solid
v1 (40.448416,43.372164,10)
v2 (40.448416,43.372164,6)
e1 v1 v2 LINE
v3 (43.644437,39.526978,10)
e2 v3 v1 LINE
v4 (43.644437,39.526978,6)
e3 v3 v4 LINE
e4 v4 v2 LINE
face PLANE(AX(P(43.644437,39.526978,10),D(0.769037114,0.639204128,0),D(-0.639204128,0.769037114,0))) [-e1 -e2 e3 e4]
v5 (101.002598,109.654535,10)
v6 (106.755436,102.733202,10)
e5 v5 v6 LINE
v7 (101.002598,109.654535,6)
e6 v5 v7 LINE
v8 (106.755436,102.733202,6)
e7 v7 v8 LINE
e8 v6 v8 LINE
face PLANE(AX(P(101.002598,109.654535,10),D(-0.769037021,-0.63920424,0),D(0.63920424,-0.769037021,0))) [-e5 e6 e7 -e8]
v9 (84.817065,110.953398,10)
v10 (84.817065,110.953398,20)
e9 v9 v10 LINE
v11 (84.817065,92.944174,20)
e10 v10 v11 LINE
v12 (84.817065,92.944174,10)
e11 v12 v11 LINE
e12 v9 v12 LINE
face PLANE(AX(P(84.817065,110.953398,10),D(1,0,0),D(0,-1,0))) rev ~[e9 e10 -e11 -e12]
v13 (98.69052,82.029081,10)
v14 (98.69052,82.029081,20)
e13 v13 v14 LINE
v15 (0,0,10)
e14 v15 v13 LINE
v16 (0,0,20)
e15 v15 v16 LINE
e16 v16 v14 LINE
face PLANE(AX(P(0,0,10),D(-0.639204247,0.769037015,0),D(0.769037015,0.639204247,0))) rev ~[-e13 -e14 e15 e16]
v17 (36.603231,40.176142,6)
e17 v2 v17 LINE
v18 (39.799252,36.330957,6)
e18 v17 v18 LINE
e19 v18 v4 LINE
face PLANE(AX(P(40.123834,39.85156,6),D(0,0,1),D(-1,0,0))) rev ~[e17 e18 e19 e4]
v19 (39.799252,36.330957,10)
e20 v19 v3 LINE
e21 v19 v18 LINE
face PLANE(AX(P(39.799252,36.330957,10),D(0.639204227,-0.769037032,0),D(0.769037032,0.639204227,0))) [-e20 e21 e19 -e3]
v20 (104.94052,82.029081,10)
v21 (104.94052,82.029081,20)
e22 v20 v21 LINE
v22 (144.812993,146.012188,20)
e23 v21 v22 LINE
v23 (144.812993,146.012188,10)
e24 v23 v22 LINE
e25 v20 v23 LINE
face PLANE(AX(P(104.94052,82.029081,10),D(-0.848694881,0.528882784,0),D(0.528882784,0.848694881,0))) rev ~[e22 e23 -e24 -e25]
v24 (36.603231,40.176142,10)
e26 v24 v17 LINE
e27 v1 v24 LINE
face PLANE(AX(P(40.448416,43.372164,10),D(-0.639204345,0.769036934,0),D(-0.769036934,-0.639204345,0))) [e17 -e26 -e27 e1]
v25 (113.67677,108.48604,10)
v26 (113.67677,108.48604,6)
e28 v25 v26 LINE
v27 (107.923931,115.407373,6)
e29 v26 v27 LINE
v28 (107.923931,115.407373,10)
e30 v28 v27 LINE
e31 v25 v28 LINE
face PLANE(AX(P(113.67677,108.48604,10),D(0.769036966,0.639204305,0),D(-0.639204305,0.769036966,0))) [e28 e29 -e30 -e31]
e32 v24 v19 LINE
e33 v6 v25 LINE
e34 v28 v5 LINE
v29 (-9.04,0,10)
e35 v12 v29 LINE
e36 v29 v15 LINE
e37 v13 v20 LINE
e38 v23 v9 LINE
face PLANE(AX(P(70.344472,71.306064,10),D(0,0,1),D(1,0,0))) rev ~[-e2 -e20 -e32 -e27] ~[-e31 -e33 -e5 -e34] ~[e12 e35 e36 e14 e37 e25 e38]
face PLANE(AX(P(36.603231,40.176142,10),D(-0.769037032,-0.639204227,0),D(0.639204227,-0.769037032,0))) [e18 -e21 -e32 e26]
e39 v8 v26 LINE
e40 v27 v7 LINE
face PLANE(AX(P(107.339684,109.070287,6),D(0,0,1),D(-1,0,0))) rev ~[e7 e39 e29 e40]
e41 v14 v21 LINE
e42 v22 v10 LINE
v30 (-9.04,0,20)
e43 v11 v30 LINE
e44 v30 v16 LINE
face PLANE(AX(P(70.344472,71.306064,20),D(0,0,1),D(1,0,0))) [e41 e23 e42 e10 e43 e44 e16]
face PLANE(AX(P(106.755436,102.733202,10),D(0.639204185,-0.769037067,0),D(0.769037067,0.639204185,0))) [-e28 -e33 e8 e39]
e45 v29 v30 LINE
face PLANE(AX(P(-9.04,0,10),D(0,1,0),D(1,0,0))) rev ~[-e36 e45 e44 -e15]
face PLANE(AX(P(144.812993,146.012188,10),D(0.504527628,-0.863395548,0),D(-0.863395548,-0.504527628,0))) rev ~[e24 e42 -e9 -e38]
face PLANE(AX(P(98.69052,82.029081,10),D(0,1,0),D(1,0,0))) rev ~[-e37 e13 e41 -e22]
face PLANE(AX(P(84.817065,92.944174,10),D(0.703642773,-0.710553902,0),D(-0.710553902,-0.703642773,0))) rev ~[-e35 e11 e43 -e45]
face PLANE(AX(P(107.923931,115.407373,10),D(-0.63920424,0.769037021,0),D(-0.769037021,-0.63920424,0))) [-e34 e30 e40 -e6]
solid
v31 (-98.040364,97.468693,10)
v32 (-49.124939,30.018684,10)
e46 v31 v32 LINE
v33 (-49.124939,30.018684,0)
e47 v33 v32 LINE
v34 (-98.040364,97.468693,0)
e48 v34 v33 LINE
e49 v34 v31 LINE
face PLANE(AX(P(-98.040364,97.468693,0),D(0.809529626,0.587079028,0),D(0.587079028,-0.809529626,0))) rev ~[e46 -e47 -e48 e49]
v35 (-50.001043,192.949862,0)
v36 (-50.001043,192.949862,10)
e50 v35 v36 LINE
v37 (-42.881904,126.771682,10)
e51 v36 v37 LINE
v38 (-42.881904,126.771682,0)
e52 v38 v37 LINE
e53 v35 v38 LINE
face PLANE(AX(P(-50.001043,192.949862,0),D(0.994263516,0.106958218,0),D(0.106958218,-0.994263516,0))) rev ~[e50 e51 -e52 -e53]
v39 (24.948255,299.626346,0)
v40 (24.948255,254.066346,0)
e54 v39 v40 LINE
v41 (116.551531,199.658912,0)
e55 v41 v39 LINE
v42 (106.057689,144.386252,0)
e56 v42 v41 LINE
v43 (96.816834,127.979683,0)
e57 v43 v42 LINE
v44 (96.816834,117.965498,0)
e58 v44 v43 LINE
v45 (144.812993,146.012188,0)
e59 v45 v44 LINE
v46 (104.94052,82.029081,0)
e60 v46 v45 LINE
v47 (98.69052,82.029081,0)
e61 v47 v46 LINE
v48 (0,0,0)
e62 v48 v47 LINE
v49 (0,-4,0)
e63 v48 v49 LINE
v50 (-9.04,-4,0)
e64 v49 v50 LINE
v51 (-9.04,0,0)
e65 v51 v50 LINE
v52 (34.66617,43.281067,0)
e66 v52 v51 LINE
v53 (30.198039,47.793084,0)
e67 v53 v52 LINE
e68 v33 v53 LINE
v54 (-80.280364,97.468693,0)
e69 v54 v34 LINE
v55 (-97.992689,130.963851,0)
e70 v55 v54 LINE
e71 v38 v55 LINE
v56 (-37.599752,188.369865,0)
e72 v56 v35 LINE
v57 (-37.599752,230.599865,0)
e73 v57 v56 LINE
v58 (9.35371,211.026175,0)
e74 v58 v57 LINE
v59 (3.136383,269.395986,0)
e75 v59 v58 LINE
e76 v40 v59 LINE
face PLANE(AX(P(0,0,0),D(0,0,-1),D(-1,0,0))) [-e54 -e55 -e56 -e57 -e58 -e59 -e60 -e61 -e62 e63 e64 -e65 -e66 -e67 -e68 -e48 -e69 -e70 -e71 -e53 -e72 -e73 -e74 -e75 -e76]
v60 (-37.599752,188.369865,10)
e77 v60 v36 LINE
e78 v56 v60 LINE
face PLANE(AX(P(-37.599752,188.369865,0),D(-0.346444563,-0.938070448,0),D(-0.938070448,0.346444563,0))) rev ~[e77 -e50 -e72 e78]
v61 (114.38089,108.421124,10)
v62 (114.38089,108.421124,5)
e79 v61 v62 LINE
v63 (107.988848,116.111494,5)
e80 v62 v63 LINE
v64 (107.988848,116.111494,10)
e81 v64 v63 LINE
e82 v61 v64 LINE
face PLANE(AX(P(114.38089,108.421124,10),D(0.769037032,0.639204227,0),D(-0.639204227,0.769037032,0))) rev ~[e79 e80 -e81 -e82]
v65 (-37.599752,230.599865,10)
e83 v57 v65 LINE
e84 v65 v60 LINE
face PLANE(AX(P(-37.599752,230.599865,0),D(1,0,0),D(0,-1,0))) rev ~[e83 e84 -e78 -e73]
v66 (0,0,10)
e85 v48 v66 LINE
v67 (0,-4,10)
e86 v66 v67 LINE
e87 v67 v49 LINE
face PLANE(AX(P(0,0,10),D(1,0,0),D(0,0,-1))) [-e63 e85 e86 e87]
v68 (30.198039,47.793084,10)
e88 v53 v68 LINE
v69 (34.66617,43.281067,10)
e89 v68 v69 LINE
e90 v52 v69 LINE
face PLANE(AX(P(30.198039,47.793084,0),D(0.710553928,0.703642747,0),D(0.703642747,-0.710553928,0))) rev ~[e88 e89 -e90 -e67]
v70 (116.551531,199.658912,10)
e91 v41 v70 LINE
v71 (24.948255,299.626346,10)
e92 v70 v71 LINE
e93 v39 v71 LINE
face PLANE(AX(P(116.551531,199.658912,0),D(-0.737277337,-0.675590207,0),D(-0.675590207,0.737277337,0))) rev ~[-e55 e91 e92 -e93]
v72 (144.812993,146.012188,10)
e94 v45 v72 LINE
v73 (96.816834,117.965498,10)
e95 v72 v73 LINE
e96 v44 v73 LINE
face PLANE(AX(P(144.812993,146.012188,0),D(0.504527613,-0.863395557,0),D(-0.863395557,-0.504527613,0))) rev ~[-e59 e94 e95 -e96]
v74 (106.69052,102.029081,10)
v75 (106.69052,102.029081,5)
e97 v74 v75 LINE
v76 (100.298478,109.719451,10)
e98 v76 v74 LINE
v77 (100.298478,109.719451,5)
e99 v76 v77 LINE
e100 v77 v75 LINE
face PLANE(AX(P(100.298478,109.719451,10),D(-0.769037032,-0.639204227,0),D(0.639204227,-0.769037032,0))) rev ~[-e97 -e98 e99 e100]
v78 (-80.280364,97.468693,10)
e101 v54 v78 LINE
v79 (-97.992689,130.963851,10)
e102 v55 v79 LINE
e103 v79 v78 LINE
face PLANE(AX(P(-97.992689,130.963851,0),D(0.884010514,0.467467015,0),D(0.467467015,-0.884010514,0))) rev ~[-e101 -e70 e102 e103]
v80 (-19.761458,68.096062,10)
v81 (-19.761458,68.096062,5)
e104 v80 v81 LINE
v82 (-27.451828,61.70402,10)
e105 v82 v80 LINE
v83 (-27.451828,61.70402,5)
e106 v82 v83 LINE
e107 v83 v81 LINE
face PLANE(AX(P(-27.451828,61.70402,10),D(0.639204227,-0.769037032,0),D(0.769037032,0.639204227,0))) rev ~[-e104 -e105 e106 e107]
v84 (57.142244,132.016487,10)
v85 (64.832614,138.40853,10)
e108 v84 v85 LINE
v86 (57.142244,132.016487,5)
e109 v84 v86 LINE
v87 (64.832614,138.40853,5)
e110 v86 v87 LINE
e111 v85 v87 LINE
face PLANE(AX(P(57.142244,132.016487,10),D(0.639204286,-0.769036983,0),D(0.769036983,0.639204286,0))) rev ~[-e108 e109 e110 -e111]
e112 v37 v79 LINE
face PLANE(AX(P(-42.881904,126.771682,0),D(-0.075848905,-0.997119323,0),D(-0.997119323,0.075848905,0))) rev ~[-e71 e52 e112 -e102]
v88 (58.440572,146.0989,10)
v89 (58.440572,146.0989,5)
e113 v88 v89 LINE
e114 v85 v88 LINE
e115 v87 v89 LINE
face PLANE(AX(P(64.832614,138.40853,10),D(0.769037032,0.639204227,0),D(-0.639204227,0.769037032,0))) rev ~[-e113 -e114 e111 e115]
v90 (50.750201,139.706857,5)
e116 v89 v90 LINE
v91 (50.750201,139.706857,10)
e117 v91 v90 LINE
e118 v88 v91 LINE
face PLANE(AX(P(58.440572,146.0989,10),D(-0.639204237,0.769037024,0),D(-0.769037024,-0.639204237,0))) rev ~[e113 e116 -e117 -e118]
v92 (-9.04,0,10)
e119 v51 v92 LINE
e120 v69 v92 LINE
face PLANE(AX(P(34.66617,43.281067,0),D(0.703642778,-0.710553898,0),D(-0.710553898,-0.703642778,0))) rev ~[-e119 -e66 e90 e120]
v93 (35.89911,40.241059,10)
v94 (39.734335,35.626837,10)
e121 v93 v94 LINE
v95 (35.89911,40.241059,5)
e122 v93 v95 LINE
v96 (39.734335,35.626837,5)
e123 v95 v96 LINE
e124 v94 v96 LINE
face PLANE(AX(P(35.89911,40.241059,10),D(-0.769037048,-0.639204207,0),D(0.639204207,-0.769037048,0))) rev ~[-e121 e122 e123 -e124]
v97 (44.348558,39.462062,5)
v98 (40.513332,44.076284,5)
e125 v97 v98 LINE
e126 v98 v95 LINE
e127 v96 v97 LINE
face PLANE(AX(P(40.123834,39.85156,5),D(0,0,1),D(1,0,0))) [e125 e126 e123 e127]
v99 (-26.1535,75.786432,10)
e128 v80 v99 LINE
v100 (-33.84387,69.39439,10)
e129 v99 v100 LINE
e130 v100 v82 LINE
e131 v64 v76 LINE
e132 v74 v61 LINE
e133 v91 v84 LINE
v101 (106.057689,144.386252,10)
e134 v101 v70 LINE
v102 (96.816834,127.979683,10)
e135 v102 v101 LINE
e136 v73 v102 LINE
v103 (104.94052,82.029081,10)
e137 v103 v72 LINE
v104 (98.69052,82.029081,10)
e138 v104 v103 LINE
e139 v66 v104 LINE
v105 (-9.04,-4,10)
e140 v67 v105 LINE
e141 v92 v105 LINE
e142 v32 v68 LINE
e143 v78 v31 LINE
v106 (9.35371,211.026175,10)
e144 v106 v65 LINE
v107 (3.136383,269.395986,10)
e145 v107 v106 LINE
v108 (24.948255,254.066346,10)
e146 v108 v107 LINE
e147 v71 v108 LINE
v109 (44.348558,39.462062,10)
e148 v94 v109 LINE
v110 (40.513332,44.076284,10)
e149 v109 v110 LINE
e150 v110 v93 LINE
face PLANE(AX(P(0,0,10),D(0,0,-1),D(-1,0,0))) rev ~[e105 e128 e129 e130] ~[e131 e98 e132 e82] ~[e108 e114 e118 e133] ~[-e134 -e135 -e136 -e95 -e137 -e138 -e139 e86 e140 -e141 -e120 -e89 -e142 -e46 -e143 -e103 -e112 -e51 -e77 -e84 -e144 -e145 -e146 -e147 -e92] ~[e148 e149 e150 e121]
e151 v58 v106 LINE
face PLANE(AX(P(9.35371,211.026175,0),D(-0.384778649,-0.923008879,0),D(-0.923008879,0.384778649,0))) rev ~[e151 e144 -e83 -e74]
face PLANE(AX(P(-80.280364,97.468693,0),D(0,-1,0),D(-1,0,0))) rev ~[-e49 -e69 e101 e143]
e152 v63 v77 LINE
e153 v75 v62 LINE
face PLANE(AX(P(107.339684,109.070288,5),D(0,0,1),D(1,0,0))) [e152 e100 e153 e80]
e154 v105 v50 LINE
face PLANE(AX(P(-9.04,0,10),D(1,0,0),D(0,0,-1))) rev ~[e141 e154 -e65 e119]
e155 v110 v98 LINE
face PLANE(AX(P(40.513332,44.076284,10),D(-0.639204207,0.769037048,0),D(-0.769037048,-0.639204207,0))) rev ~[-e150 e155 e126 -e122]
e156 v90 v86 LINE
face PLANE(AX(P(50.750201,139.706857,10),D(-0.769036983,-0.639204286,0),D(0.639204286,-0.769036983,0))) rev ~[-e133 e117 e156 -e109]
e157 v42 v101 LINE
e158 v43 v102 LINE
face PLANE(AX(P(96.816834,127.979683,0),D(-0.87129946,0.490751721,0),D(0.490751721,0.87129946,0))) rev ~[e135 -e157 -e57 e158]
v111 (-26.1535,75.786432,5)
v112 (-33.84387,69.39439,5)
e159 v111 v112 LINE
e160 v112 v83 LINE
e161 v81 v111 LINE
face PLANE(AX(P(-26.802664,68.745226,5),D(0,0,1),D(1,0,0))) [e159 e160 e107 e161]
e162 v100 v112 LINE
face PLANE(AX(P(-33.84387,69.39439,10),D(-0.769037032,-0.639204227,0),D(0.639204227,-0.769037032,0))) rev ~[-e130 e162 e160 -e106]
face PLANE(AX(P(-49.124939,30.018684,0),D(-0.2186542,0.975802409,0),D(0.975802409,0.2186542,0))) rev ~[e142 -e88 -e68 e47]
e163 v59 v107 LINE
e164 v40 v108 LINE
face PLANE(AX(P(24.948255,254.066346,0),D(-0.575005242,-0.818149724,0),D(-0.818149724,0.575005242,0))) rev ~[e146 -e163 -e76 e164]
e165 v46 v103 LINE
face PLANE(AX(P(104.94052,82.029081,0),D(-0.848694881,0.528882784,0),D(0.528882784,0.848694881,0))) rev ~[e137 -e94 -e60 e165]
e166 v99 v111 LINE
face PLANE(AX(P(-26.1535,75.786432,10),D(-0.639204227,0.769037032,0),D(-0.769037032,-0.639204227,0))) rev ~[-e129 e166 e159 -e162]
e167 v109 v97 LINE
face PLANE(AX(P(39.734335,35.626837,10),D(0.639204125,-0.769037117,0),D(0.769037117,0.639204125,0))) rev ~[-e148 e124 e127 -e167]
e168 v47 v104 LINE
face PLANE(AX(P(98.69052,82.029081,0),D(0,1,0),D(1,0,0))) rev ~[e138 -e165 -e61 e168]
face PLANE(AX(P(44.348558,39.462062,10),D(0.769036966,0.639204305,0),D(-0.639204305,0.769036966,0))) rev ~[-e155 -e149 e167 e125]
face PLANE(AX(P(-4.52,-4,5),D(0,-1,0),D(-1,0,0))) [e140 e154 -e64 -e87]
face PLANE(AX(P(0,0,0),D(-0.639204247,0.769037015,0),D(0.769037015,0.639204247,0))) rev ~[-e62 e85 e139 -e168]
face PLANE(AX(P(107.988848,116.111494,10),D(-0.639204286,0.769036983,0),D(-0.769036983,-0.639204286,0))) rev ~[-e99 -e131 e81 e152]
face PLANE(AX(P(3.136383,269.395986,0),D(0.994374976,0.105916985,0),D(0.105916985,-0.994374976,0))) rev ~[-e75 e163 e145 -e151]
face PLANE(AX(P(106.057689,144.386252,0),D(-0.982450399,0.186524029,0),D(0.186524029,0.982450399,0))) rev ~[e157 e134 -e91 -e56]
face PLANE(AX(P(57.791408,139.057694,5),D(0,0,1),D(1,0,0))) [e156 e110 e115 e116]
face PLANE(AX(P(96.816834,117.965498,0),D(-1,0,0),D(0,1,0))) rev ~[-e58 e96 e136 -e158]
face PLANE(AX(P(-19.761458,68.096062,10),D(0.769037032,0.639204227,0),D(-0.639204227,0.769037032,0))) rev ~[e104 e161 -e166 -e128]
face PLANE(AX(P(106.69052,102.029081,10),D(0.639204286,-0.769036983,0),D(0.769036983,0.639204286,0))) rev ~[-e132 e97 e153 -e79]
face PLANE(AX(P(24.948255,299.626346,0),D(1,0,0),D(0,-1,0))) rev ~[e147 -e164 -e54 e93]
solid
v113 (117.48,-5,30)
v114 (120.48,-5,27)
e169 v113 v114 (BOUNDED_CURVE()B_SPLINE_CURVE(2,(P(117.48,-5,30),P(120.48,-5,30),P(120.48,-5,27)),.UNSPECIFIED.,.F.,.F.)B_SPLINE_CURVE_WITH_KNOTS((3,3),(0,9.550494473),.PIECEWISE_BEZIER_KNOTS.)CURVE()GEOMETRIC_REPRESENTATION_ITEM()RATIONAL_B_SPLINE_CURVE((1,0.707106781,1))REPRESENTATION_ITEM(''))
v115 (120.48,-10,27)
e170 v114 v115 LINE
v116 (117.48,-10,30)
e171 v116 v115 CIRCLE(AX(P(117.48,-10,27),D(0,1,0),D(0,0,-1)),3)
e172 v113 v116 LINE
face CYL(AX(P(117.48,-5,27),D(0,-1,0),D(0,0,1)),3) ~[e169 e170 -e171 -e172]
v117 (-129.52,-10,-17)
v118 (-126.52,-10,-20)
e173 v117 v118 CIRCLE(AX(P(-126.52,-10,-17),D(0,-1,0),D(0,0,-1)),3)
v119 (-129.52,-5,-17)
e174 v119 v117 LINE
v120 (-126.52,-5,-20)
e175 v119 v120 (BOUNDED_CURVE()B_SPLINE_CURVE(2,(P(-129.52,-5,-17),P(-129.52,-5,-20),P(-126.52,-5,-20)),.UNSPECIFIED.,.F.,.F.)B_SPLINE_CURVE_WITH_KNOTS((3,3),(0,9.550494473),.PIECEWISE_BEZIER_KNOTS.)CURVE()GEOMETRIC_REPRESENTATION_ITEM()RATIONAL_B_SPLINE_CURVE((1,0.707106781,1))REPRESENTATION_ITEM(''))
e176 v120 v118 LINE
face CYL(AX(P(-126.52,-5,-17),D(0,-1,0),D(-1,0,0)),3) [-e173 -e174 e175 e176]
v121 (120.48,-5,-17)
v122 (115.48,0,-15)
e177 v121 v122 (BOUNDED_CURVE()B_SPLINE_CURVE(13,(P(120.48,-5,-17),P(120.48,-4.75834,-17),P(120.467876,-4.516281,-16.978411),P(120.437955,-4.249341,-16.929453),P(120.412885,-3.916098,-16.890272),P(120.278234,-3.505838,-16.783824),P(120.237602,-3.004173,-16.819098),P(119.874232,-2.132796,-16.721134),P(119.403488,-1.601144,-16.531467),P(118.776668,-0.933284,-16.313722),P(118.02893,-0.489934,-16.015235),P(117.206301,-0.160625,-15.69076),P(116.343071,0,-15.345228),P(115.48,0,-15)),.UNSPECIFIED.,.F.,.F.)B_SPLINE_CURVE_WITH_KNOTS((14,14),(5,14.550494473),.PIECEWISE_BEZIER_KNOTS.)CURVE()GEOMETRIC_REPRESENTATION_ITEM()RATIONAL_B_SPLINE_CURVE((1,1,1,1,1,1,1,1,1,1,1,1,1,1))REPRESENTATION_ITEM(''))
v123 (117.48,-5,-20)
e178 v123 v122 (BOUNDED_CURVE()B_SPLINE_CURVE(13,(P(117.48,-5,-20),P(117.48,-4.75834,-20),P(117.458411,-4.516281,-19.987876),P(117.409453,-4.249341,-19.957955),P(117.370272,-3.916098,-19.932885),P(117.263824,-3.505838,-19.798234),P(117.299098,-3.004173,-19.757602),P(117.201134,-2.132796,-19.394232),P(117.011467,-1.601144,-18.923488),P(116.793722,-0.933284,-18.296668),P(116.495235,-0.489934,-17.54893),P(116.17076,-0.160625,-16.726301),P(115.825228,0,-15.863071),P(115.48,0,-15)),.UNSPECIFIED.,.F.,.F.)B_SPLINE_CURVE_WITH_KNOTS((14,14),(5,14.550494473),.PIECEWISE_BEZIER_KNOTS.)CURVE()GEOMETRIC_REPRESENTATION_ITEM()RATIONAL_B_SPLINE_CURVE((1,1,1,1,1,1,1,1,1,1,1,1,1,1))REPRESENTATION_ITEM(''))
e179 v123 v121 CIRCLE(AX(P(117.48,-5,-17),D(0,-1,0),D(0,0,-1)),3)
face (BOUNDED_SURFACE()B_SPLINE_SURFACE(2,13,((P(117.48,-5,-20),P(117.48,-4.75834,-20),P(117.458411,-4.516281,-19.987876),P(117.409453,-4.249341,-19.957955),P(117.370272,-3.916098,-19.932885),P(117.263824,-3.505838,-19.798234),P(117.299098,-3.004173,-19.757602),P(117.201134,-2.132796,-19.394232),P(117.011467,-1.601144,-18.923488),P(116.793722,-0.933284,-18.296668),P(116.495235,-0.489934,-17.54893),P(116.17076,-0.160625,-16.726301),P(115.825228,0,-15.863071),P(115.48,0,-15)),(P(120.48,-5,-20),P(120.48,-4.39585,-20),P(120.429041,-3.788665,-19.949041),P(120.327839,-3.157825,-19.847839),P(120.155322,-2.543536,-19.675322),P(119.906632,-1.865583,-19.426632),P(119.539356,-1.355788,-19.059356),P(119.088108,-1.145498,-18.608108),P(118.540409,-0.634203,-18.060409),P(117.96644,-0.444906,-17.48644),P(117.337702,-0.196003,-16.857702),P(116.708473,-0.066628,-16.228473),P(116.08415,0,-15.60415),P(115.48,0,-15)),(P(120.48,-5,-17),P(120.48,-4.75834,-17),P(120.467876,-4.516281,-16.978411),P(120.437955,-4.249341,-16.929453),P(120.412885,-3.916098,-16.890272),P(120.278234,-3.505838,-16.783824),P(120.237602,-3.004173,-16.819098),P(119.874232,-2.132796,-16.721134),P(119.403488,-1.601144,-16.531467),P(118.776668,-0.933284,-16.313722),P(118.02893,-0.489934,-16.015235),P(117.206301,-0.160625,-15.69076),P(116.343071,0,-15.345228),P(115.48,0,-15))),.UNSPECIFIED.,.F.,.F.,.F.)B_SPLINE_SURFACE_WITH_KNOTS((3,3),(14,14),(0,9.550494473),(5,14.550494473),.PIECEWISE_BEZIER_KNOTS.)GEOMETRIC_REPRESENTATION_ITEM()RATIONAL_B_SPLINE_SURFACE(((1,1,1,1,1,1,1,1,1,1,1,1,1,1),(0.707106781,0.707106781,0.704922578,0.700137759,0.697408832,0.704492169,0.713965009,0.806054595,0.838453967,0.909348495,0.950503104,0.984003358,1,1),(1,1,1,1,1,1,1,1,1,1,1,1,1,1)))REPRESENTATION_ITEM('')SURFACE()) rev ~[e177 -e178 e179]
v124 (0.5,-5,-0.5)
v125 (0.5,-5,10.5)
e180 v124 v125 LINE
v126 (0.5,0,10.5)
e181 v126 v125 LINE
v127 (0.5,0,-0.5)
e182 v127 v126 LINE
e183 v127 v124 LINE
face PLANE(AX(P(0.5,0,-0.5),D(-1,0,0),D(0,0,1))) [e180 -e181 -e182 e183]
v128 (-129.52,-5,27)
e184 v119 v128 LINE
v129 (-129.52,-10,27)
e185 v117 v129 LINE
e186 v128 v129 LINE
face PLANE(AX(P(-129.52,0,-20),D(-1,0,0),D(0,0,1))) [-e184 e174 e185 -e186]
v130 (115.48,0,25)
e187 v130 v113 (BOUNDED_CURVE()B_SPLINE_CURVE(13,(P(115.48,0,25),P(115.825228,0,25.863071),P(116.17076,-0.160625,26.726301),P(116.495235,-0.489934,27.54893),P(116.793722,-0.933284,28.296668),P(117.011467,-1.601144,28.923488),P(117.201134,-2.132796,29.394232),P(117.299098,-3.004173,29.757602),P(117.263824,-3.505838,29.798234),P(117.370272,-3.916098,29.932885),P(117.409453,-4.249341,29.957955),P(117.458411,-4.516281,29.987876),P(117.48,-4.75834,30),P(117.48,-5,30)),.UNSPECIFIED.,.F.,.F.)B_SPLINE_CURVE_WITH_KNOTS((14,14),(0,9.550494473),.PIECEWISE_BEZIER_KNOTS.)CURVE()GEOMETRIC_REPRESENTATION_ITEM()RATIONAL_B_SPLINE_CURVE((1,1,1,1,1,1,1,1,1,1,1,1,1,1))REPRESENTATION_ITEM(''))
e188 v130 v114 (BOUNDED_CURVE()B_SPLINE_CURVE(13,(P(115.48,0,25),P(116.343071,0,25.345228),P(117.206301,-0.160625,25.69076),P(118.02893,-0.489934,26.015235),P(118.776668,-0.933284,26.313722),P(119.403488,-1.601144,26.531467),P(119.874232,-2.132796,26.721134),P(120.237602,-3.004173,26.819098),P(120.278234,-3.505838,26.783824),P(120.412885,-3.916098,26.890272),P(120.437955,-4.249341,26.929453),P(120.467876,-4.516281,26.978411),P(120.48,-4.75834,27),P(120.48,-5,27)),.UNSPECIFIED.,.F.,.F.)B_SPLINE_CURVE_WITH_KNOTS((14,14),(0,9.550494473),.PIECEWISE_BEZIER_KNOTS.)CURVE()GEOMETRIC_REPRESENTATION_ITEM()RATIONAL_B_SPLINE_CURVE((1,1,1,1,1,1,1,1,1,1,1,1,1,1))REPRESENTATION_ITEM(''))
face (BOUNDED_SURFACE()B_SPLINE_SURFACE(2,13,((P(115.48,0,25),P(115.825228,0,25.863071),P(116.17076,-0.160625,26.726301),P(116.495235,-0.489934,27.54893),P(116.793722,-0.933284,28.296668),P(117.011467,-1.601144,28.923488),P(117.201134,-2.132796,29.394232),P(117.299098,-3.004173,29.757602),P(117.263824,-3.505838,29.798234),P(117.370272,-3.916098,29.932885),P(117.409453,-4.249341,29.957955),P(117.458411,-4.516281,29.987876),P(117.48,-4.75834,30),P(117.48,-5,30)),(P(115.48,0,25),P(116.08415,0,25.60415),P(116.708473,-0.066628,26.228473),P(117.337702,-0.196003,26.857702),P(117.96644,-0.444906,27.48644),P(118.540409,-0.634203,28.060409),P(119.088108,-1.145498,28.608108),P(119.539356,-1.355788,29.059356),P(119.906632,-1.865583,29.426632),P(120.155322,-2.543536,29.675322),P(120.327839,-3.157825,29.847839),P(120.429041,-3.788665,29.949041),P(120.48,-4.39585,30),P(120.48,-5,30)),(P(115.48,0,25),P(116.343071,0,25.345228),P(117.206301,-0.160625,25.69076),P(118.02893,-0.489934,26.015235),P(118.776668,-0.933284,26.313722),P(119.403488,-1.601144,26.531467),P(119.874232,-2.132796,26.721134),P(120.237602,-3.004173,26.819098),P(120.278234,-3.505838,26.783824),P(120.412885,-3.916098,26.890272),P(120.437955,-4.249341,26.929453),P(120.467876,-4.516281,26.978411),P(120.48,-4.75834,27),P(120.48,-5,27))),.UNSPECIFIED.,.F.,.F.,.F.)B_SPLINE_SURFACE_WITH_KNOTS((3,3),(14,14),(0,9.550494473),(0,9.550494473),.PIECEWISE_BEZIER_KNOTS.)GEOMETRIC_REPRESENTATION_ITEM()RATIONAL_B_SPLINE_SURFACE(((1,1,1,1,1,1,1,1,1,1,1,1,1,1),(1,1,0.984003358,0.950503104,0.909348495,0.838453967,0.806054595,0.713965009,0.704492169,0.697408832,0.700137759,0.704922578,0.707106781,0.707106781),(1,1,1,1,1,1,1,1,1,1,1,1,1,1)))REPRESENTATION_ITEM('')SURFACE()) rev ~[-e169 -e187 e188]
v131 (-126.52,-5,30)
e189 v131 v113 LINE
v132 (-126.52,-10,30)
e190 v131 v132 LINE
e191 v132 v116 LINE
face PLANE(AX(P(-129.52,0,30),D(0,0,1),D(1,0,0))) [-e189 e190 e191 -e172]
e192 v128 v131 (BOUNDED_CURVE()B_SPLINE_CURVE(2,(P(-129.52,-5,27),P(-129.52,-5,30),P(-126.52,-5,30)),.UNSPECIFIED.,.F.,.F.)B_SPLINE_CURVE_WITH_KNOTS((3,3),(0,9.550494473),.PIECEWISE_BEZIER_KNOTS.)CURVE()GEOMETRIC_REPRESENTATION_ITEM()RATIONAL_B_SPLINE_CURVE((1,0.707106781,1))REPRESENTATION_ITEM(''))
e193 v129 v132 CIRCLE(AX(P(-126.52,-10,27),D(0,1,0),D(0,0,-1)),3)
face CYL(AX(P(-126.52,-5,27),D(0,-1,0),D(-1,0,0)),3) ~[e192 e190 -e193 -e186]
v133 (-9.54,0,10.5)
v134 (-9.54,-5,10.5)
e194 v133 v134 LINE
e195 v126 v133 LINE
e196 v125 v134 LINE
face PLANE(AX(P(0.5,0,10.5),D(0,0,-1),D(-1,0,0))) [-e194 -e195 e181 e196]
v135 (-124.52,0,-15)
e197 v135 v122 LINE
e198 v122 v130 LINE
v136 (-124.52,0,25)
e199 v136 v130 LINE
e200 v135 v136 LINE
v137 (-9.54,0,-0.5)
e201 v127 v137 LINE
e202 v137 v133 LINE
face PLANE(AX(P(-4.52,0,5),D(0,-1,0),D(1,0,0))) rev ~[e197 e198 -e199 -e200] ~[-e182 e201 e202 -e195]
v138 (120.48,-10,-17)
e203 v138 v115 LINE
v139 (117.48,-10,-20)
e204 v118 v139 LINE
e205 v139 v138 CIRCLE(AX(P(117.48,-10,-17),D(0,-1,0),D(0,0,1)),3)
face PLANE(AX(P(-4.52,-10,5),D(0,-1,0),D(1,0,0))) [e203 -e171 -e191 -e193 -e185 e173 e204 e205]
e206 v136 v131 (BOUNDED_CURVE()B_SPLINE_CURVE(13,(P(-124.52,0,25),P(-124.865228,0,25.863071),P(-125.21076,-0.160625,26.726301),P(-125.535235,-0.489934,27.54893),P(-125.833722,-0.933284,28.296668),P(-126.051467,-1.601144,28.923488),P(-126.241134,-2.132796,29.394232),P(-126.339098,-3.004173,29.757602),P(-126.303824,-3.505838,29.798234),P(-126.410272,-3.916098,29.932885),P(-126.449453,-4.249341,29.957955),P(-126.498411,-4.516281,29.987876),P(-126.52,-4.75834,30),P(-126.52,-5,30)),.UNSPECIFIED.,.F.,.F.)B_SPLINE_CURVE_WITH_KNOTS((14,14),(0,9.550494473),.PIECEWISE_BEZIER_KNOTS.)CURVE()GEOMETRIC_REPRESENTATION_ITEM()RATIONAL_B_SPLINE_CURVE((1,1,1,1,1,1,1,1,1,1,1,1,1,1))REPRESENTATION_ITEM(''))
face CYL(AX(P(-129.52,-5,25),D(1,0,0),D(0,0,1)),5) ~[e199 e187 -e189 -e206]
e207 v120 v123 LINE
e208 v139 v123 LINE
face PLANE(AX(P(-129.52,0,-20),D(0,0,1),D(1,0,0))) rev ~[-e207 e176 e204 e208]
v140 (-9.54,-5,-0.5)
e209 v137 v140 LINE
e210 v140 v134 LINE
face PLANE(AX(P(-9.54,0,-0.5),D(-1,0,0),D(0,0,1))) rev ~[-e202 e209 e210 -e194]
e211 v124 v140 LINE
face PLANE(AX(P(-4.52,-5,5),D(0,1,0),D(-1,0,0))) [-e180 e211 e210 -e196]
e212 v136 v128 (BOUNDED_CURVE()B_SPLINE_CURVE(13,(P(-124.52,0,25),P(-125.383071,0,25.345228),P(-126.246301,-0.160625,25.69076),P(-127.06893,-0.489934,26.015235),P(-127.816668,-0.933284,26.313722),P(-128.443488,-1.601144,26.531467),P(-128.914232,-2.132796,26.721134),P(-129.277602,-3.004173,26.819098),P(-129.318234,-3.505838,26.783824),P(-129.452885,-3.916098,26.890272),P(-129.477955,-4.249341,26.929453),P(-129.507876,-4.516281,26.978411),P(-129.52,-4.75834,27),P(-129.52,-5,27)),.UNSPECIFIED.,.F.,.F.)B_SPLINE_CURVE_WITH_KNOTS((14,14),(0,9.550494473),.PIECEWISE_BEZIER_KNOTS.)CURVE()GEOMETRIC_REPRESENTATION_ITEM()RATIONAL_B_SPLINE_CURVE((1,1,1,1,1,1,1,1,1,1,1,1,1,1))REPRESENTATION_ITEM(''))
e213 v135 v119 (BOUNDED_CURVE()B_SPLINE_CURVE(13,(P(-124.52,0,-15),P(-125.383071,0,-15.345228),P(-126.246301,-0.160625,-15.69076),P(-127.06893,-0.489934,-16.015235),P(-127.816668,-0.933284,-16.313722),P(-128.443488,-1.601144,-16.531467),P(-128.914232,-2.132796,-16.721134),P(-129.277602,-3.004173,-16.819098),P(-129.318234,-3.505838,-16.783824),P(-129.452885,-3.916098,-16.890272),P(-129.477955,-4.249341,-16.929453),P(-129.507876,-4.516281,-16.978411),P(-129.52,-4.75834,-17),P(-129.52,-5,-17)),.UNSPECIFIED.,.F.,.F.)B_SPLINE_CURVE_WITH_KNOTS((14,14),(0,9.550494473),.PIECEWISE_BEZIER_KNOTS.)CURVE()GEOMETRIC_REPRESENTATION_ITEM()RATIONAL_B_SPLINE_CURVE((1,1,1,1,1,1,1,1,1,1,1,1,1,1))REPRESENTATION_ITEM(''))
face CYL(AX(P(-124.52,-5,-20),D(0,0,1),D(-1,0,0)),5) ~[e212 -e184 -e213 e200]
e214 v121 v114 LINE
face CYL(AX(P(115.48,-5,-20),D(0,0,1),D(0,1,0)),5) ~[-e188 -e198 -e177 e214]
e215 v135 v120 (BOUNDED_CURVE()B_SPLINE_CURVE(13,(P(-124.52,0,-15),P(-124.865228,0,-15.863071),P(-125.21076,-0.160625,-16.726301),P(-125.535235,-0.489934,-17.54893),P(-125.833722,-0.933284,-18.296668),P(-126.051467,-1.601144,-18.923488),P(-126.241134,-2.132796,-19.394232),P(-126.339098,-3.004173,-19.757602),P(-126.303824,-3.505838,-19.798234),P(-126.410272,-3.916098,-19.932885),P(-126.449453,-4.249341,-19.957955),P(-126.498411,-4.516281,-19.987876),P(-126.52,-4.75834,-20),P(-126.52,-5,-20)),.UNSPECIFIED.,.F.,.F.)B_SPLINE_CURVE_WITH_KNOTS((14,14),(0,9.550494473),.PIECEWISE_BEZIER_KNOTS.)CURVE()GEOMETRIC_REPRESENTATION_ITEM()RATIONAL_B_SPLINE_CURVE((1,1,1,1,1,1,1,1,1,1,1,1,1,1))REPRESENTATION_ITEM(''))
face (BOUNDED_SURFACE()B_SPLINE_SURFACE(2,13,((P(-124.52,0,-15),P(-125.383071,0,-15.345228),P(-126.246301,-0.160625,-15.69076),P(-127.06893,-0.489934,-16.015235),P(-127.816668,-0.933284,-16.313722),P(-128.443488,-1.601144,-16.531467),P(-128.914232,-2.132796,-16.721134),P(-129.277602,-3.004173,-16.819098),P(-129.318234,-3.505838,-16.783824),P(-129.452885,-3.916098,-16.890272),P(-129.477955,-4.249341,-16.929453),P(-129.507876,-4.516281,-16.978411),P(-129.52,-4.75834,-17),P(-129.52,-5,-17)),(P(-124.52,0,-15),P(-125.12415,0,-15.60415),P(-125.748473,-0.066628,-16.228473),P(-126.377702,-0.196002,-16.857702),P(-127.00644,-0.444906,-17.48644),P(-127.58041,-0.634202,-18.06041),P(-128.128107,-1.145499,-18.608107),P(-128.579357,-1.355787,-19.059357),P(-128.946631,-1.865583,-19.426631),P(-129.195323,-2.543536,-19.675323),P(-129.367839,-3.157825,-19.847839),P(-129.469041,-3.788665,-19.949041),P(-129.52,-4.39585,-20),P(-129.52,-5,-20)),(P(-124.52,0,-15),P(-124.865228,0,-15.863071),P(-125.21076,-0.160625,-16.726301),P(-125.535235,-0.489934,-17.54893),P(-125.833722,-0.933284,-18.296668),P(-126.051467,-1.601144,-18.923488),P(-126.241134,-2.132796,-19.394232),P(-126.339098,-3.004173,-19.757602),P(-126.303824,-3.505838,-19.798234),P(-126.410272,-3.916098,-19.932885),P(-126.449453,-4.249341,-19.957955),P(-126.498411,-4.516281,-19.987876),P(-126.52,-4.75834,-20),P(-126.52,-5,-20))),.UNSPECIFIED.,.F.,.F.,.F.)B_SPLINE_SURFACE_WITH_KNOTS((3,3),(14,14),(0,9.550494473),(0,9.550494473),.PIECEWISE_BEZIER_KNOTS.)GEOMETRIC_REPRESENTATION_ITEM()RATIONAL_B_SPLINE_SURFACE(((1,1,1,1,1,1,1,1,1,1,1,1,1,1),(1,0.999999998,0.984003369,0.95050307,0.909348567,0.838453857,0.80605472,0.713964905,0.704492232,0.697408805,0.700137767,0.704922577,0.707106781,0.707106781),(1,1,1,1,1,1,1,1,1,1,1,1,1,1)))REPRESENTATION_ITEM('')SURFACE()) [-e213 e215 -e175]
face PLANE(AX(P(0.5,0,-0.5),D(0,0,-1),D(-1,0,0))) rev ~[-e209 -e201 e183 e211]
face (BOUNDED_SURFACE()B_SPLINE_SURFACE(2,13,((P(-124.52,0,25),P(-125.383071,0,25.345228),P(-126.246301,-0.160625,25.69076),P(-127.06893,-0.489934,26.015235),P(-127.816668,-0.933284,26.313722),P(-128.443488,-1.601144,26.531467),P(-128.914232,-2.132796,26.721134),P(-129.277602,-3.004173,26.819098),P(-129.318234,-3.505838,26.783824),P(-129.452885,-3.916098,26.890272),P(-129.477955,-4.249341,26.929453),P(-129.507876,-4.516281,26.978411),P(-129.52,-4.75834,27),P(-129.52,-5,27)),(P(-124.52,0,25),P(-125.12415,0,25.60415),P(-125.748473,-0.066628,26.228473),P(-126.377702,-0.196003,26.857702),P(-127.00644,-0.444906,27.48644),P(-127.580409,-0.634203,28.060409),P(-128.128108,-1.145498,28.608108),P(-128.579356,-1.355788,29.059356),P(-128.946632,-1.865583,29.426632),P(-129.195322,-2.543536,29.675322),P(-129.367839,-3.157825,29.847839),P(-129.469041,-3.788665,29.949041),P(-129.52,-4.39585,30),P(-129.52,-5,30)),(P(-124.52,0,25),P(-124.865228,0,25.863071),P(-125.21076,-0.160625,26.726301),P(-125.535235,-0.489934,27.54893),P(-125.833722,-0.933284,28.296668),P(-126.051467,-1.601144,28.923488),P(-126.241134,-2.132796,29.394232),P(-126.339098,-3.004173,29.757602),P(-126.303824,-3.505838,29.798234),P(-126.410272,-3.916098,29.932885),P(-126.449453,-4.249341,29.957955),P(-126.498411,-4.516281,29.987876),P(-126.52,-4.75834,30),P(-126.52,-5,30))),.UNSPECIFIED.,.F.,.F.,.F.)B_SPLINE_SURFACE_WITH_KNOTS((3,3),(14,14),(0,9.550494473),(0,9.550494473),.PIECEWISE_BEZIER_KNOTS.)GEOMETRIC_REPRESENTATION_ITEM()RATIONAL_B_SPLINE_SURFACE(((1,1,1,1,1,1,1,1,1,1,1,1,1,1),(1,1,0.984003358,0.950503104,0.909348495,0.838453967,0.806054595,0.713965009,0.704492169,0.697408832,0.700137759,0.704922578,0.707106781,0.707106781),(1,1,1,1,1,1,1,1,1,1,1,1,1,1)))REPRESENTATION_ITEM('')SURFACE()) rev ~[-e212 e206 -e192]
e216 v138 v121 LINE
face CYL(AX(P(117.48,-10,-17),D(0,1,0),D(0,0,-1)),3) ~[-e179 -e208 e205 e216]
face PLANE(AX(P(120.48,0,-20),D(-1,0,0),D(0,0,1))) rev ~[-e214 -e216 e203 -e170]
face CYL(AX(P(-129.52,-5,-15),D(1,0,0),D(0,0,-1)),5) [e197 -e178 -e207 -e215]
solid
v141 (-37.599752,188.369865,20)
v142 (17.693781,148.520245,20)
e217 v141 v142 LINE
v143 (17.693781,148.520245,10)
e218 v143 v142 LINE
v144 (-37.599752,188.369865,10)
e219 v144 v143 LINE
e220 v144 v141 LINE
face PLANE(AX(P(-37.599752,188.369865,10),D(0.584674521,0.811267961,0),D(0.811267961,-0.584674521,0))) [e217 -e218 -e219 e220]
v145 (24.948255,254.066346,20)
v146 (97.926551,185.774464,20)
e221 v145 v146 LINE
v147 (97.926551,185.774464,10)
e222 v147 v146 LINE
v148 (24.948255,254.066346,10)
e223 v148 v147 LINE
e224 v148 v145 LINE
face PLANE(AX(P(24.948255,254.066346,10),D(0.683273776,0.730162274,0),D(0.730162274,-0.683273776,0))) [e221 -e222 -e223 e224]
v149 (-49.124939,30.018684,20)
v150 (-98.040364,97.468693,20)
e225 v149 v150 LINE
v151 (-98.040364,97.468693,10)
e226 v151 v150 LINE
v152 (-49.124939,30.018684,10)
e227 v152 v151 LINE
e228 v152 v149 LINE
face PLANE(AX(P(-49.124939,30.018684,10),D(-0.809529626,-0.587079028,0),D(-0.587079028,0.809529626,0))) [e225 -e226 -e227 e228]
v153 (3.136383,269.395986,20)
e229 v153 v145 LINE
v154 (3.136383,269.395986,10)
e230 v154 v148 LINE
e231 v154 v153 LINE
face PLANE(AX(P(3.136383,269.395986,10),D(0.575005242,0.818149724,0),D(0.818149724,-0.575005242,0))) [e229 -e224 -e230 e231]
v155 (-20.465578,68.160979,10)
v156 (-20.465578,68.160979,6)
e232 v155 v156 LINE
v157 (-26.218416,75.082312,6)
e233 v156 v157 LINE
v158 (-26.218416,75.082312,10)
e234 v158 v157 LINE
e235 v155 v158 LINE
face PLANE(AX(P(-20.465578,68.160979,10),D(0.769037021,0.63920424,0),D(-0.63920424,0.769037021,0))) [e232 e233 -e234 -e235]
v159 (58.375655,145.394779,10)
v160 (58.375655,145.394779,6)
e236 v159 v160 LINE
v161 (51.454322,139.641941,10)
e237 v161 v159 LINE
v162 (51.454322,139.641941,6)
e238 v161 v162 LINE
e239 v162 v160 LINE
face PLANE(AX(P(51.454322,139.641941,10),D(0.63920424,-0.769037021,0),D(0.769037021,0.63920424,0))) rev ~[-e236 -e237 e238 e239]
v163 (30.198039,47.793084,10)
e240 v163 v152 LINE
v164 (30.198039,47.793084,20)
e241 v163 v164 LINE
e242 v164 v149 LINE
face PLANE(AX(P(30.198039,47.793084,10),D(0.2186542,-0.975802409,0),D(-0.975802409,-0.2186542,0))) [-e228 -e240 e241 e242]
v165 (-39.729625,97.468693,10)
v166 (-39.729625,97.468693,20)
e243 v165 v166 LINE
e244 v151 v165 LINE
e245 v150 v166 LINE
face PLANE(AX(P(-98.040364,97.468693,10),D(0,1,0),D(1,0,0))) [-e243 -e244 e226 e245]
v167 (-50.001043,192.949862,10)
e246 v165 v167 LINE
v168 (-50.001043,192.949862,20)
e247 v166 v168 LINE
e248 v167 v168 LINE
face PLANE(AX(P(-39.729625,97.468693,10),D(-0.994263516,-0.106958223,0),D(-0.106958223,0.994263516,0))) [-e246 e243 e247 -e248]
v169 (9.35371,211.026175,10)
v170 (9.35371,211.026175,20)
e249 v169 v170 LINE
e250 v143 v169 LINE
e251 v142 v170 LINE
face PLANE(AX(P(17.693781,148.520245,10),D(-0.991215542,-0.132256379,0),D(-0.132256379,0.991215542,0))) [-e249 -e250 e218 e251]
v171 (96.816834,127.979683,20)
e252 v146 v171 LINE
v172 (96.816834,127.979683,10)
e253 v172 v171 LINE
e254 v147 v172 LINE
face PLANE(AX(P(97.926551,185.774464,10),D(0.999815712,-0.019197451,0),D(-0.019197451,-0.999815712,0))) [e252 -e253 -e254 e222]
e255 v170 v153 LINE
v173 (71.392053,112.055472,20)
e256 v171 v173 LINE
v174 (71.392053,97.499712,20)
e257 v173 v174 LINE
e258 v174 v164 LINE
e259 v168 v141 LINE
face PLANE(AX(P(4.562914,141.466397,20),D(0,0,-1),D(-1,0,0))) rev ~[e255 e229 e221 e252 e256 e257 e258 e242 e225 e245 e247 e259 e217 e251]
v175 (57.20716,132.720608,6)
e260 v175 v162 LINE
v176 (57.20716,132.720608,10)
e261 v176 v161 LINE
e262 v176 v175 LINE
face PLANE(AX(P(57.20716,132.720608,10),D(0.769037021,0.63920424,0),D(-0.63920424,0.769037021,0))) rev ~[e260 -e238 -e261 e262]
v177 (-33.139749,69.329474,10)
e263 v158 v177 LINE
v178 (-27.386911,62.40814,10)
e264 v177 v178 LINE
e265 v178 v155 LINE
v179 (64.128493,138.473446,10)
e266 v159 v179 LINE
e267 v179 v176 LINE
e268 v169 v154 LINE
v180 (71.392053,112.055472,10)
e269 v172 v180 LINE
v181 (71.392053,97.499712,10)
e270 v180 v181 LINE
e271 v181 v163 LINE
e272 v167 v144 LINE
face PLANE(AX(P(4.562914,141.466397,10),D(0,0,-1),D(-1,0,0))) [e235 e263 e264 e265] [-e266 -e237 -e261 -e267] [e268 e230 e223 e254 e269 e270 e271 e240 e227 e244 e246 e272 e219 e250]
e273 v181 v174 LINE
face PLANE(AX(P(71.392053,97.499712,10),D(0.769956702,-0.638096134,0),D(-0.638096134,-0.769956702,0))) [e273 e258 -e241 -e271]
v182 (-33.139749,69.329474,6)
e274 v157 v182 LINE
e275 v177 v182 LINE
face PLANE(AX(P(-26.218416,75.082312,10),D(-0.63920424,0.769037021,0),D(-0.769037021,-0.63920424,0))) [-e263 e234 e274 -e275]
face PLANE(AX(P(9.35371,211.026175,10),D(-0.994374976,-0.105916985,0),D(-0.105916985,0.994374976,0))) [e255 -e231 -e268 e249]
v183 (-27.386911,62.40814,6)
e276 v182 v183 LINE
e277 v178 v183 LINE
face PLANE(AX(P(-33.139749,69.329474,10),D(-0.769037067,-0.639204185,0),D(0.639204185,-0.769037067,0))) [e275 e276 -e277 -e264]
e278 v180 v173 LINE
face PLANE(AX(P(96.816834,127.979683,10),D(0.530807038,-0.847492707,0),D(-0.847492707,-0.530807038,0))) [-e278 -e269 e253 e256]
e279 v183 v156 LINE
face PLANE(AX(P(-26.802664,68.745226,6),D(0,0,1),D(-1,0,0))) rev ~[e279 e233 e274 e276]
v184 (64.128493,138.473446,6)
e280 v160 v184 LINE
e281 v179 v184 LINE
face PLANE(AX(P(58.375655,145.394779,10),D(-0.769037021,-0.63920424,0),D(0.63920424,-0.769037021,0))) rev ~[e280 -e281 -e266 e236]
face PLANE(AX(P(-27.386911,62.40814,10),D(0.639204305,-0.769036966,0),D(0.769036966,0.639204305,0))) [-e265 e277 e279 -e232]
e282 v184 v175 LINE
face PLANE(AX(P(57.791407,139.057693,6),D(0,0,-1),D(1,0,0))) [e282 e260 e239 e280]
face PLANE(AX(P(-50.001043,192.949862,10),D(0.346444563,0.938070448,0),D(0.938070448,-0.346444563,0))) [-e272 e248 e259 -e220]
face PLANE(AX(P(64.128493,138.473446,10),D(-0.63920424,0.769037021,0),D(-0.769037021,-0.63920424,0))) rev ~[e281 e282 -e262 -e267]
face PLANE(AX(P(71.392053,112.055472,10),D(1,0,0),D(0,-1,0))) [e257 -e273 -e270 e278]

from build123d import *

# Parameters (mm, degrees)
PAD_DEPTH       = 10
POCKET_DEPTH    = 5
POCKET_FACE2_W  = 9.04
POCKET_FACE2_H  = 10
PAD001_DEPTH    = 4
SKETCH002_W     = 250
SKETCH002_H     = 50
PAD002_DEPTH    = 10
SKETCH003_W     = 10.04
SKETCH003_H     = 11
POCKET001_DEPTH = 5
FILLET_R        = 5
FILLET001_R     = 3
PAD003_DEPTH    = 10
PAD006_DEPTH    = 4
PAD004_DEPTH    = 10
PAD005_DEPTH    = 4


with BuildPart() as back:
    # Sketch → Pad (new body)
    with BuildSketch(Plane.XY):
        Polygon((0, 0), (98.69052, 82.029081), (104.94052, 82.029081), (144.812993, 146.012188), (96.816834, 117.965498), (96.816834, 127.979683), (106.057689, 144.386252), (116.551531, 199.658912), (24.948255, 299.626346), (24.948255, 254.066346), (3.136383, 269.395986), (9.35371, 211.026175), (-37.599752, 230.599865), (-37.599752, 188.369865), (-50.001043, 192.949862), (-42.881904, 126.771682), (-97.992689, 130.963851), (-80.280364, 97.468693), (-98.040364, 97.468693), (-49.124939, 30.018684), (30.198039, 47.793084), (34.66617, 43.281067), (-9.04, 0), align=None)
    extrude(amount=PAD_DEPTH)

    # Sketch001 (on Face25 of Pad) → Pocket (cut)
    with BuildSketch(Plane.XY.offset(10)):
        Polygon((-33.84387, 69.39439), (-27.451828, 61.70402), (-19.761458, 68.096062), (-26.1535, 75.786432), align=None)
        Polygon((50.750201, 139.706857), (57.142244, 132.016487), (64.832614, 138.40853), (58.440572, 146.0989), align=None)
        Polygon((100.298478, 109.719451), (106.69052, 102.029081), (114.38089, 108.421124), (107.988848, 116.111494), align=None)
        Polygon((35.89911, 40.241059), (39.734335, 35.626837), (44.348558, 39.462062), (40.513332, 44.076284), align=None)
    extrude(amount=-POCKET_DEPTH, mode=Mode.SUBTRACT)

    # Pocket Face2 → Pad001 (add)
    with BuildSketch(Plane(origin=(-4.52, 0, 5), x_dir=(-1, 0, 0), z_dir=(0, -1, 0))):
        Rectangle(POCKET_FACE2_W, POCKET_FACE2_H)
    extrude(amount=PAD001_DEPTH)


with BuildPart() as foot:
    # Sketch002 (on Face1 of ShapeBinder) → Pad002 (new body)
    with BuildSketch(Plane.XZ):
        with Locations((-4.52, 5)):
            Rectangle(SKETCH002_W, SKETCH002_H)
    extrude(amount=PAD002_DEPTH)

    # Sketch003 (on Face5 of Pad002) → Pocket001 (cut)
    with BuildSketch(Plane(origin=(0, 0, 0), x_dir=(-1, 0, 0), z_dir=(0, 1, 0))):
        with Locations((4.52, 5)):
            Rectangle(SKETCH003_W, SKETCH003_H)
    extrude(amount=-POCKET001_DEPTH, mode=Mode.SUBTRACT)

    # Fillet
    fillet_edges = [foot.edges().sort_by_distance(p)[0] for p in [
        (-4.52, 0, 30),
        (-129.52, 0, 5),
        (-4.52, 0, -20),
        (120.48, 0, 5),
    ]]
    fillet(fillet_edges, radius=FILLET_R)

    # Fillet001
    fillet001_edges = [foot.edges().sort_by_distance(p)[0] for p in [
        (120.48, -7.5, 30),
        (-129.52, -7.5, 30),
        (-127.750245, -1.18352, 28.230245),
        (118.710245, -1.18352, 28.230245),
        (118.710245, -1.18352, -18.230245),
        (120.48, -7.5, -20),
        (-129.52, -7.5, -20),
        (-127.750245, -1.18352, -18.230245),
    ]]
    fillet(fillet001_edges, radius=FILLET001_R)


with BuildPart() as frontwings:
    # Sketch004 (on Face1 of ShapeBinder001) → Pad003 (new body)
    with BuildSketch(Plane.XY.offset(10)):
        Polygon((30.198039, 47.793084), (-49.124939, 30.018684), (-98.040364, 97.468693), (-39.729625, 97.468693), (-50.001043, 192.949862), (-37.599752, 188.369865), (17.693781, 148.520245), (9.35371, 211.026175), (3.136383, 269.395986), (24.948255, 254.066346), (97.926551, 185.774464), (96.816834, 127.979683), (71.392053, 112.055472), (71.392053, 97.499712), align=None)
    extrude(amount=PAD003_DEPTH)

    # Sketch007 (on Face15 of Pad003) → Pad006 (join)
    with BuildSketch(Plane(origin=(0, 0, 10), x_dir=(1, 0, 0), z_dir=(0, 0, -1))):
        Polygon((58.375655, -145.394779), (64.128493, -138.473446), (57.20716, -132.720608), (51.454322, -139.641941), align=None)
        Polygon((-20.465578, -68.160979), (-26.218416, -75.082312), (-33.139749, -69.329474), (-27.386911, -62.40814), align=None)
    extrude(amount=PAD006_DEPTH)


with BuildPart() as frontbody:
    # Sketch005 (on Face1 of ShapeBinder002) → Pad004 (new body)
    with BuildSketch(Plane.XY.offset(10)):
        Polygon((-9.04, 0), (0, 0), (98.69052, 82.029081), (104.94052, 82.029081), (144.812993, 146.012188), (84.817065, 110.953398), (84.817065, 92.944174), align=None)
    extrude(amount=PAD004_DEPTH)

    # Sketch006 (on Face8 of Pad004) → Pad005 (join)
    with BuildSketch(Plane(origin=(0, 0, 10), x_dir=(1, 0, 0), z_dir=(0, 0, -1))):
        Polygon((113.67677, -108.48604), (107.923931, -115.407373), (101.002598, -109.654535), (106.755436, -102.733202), align=None)
        Polygon((43.644437, -39.526978), (40.448416, -43.372164), (36.603231, -40.176142), (39.799252, -36.330957), align=None)
    extrude(amount=PAD005_DEPTH)


solid = Compound([back.part, foot.part, frontwings.part, frontbody.part])
